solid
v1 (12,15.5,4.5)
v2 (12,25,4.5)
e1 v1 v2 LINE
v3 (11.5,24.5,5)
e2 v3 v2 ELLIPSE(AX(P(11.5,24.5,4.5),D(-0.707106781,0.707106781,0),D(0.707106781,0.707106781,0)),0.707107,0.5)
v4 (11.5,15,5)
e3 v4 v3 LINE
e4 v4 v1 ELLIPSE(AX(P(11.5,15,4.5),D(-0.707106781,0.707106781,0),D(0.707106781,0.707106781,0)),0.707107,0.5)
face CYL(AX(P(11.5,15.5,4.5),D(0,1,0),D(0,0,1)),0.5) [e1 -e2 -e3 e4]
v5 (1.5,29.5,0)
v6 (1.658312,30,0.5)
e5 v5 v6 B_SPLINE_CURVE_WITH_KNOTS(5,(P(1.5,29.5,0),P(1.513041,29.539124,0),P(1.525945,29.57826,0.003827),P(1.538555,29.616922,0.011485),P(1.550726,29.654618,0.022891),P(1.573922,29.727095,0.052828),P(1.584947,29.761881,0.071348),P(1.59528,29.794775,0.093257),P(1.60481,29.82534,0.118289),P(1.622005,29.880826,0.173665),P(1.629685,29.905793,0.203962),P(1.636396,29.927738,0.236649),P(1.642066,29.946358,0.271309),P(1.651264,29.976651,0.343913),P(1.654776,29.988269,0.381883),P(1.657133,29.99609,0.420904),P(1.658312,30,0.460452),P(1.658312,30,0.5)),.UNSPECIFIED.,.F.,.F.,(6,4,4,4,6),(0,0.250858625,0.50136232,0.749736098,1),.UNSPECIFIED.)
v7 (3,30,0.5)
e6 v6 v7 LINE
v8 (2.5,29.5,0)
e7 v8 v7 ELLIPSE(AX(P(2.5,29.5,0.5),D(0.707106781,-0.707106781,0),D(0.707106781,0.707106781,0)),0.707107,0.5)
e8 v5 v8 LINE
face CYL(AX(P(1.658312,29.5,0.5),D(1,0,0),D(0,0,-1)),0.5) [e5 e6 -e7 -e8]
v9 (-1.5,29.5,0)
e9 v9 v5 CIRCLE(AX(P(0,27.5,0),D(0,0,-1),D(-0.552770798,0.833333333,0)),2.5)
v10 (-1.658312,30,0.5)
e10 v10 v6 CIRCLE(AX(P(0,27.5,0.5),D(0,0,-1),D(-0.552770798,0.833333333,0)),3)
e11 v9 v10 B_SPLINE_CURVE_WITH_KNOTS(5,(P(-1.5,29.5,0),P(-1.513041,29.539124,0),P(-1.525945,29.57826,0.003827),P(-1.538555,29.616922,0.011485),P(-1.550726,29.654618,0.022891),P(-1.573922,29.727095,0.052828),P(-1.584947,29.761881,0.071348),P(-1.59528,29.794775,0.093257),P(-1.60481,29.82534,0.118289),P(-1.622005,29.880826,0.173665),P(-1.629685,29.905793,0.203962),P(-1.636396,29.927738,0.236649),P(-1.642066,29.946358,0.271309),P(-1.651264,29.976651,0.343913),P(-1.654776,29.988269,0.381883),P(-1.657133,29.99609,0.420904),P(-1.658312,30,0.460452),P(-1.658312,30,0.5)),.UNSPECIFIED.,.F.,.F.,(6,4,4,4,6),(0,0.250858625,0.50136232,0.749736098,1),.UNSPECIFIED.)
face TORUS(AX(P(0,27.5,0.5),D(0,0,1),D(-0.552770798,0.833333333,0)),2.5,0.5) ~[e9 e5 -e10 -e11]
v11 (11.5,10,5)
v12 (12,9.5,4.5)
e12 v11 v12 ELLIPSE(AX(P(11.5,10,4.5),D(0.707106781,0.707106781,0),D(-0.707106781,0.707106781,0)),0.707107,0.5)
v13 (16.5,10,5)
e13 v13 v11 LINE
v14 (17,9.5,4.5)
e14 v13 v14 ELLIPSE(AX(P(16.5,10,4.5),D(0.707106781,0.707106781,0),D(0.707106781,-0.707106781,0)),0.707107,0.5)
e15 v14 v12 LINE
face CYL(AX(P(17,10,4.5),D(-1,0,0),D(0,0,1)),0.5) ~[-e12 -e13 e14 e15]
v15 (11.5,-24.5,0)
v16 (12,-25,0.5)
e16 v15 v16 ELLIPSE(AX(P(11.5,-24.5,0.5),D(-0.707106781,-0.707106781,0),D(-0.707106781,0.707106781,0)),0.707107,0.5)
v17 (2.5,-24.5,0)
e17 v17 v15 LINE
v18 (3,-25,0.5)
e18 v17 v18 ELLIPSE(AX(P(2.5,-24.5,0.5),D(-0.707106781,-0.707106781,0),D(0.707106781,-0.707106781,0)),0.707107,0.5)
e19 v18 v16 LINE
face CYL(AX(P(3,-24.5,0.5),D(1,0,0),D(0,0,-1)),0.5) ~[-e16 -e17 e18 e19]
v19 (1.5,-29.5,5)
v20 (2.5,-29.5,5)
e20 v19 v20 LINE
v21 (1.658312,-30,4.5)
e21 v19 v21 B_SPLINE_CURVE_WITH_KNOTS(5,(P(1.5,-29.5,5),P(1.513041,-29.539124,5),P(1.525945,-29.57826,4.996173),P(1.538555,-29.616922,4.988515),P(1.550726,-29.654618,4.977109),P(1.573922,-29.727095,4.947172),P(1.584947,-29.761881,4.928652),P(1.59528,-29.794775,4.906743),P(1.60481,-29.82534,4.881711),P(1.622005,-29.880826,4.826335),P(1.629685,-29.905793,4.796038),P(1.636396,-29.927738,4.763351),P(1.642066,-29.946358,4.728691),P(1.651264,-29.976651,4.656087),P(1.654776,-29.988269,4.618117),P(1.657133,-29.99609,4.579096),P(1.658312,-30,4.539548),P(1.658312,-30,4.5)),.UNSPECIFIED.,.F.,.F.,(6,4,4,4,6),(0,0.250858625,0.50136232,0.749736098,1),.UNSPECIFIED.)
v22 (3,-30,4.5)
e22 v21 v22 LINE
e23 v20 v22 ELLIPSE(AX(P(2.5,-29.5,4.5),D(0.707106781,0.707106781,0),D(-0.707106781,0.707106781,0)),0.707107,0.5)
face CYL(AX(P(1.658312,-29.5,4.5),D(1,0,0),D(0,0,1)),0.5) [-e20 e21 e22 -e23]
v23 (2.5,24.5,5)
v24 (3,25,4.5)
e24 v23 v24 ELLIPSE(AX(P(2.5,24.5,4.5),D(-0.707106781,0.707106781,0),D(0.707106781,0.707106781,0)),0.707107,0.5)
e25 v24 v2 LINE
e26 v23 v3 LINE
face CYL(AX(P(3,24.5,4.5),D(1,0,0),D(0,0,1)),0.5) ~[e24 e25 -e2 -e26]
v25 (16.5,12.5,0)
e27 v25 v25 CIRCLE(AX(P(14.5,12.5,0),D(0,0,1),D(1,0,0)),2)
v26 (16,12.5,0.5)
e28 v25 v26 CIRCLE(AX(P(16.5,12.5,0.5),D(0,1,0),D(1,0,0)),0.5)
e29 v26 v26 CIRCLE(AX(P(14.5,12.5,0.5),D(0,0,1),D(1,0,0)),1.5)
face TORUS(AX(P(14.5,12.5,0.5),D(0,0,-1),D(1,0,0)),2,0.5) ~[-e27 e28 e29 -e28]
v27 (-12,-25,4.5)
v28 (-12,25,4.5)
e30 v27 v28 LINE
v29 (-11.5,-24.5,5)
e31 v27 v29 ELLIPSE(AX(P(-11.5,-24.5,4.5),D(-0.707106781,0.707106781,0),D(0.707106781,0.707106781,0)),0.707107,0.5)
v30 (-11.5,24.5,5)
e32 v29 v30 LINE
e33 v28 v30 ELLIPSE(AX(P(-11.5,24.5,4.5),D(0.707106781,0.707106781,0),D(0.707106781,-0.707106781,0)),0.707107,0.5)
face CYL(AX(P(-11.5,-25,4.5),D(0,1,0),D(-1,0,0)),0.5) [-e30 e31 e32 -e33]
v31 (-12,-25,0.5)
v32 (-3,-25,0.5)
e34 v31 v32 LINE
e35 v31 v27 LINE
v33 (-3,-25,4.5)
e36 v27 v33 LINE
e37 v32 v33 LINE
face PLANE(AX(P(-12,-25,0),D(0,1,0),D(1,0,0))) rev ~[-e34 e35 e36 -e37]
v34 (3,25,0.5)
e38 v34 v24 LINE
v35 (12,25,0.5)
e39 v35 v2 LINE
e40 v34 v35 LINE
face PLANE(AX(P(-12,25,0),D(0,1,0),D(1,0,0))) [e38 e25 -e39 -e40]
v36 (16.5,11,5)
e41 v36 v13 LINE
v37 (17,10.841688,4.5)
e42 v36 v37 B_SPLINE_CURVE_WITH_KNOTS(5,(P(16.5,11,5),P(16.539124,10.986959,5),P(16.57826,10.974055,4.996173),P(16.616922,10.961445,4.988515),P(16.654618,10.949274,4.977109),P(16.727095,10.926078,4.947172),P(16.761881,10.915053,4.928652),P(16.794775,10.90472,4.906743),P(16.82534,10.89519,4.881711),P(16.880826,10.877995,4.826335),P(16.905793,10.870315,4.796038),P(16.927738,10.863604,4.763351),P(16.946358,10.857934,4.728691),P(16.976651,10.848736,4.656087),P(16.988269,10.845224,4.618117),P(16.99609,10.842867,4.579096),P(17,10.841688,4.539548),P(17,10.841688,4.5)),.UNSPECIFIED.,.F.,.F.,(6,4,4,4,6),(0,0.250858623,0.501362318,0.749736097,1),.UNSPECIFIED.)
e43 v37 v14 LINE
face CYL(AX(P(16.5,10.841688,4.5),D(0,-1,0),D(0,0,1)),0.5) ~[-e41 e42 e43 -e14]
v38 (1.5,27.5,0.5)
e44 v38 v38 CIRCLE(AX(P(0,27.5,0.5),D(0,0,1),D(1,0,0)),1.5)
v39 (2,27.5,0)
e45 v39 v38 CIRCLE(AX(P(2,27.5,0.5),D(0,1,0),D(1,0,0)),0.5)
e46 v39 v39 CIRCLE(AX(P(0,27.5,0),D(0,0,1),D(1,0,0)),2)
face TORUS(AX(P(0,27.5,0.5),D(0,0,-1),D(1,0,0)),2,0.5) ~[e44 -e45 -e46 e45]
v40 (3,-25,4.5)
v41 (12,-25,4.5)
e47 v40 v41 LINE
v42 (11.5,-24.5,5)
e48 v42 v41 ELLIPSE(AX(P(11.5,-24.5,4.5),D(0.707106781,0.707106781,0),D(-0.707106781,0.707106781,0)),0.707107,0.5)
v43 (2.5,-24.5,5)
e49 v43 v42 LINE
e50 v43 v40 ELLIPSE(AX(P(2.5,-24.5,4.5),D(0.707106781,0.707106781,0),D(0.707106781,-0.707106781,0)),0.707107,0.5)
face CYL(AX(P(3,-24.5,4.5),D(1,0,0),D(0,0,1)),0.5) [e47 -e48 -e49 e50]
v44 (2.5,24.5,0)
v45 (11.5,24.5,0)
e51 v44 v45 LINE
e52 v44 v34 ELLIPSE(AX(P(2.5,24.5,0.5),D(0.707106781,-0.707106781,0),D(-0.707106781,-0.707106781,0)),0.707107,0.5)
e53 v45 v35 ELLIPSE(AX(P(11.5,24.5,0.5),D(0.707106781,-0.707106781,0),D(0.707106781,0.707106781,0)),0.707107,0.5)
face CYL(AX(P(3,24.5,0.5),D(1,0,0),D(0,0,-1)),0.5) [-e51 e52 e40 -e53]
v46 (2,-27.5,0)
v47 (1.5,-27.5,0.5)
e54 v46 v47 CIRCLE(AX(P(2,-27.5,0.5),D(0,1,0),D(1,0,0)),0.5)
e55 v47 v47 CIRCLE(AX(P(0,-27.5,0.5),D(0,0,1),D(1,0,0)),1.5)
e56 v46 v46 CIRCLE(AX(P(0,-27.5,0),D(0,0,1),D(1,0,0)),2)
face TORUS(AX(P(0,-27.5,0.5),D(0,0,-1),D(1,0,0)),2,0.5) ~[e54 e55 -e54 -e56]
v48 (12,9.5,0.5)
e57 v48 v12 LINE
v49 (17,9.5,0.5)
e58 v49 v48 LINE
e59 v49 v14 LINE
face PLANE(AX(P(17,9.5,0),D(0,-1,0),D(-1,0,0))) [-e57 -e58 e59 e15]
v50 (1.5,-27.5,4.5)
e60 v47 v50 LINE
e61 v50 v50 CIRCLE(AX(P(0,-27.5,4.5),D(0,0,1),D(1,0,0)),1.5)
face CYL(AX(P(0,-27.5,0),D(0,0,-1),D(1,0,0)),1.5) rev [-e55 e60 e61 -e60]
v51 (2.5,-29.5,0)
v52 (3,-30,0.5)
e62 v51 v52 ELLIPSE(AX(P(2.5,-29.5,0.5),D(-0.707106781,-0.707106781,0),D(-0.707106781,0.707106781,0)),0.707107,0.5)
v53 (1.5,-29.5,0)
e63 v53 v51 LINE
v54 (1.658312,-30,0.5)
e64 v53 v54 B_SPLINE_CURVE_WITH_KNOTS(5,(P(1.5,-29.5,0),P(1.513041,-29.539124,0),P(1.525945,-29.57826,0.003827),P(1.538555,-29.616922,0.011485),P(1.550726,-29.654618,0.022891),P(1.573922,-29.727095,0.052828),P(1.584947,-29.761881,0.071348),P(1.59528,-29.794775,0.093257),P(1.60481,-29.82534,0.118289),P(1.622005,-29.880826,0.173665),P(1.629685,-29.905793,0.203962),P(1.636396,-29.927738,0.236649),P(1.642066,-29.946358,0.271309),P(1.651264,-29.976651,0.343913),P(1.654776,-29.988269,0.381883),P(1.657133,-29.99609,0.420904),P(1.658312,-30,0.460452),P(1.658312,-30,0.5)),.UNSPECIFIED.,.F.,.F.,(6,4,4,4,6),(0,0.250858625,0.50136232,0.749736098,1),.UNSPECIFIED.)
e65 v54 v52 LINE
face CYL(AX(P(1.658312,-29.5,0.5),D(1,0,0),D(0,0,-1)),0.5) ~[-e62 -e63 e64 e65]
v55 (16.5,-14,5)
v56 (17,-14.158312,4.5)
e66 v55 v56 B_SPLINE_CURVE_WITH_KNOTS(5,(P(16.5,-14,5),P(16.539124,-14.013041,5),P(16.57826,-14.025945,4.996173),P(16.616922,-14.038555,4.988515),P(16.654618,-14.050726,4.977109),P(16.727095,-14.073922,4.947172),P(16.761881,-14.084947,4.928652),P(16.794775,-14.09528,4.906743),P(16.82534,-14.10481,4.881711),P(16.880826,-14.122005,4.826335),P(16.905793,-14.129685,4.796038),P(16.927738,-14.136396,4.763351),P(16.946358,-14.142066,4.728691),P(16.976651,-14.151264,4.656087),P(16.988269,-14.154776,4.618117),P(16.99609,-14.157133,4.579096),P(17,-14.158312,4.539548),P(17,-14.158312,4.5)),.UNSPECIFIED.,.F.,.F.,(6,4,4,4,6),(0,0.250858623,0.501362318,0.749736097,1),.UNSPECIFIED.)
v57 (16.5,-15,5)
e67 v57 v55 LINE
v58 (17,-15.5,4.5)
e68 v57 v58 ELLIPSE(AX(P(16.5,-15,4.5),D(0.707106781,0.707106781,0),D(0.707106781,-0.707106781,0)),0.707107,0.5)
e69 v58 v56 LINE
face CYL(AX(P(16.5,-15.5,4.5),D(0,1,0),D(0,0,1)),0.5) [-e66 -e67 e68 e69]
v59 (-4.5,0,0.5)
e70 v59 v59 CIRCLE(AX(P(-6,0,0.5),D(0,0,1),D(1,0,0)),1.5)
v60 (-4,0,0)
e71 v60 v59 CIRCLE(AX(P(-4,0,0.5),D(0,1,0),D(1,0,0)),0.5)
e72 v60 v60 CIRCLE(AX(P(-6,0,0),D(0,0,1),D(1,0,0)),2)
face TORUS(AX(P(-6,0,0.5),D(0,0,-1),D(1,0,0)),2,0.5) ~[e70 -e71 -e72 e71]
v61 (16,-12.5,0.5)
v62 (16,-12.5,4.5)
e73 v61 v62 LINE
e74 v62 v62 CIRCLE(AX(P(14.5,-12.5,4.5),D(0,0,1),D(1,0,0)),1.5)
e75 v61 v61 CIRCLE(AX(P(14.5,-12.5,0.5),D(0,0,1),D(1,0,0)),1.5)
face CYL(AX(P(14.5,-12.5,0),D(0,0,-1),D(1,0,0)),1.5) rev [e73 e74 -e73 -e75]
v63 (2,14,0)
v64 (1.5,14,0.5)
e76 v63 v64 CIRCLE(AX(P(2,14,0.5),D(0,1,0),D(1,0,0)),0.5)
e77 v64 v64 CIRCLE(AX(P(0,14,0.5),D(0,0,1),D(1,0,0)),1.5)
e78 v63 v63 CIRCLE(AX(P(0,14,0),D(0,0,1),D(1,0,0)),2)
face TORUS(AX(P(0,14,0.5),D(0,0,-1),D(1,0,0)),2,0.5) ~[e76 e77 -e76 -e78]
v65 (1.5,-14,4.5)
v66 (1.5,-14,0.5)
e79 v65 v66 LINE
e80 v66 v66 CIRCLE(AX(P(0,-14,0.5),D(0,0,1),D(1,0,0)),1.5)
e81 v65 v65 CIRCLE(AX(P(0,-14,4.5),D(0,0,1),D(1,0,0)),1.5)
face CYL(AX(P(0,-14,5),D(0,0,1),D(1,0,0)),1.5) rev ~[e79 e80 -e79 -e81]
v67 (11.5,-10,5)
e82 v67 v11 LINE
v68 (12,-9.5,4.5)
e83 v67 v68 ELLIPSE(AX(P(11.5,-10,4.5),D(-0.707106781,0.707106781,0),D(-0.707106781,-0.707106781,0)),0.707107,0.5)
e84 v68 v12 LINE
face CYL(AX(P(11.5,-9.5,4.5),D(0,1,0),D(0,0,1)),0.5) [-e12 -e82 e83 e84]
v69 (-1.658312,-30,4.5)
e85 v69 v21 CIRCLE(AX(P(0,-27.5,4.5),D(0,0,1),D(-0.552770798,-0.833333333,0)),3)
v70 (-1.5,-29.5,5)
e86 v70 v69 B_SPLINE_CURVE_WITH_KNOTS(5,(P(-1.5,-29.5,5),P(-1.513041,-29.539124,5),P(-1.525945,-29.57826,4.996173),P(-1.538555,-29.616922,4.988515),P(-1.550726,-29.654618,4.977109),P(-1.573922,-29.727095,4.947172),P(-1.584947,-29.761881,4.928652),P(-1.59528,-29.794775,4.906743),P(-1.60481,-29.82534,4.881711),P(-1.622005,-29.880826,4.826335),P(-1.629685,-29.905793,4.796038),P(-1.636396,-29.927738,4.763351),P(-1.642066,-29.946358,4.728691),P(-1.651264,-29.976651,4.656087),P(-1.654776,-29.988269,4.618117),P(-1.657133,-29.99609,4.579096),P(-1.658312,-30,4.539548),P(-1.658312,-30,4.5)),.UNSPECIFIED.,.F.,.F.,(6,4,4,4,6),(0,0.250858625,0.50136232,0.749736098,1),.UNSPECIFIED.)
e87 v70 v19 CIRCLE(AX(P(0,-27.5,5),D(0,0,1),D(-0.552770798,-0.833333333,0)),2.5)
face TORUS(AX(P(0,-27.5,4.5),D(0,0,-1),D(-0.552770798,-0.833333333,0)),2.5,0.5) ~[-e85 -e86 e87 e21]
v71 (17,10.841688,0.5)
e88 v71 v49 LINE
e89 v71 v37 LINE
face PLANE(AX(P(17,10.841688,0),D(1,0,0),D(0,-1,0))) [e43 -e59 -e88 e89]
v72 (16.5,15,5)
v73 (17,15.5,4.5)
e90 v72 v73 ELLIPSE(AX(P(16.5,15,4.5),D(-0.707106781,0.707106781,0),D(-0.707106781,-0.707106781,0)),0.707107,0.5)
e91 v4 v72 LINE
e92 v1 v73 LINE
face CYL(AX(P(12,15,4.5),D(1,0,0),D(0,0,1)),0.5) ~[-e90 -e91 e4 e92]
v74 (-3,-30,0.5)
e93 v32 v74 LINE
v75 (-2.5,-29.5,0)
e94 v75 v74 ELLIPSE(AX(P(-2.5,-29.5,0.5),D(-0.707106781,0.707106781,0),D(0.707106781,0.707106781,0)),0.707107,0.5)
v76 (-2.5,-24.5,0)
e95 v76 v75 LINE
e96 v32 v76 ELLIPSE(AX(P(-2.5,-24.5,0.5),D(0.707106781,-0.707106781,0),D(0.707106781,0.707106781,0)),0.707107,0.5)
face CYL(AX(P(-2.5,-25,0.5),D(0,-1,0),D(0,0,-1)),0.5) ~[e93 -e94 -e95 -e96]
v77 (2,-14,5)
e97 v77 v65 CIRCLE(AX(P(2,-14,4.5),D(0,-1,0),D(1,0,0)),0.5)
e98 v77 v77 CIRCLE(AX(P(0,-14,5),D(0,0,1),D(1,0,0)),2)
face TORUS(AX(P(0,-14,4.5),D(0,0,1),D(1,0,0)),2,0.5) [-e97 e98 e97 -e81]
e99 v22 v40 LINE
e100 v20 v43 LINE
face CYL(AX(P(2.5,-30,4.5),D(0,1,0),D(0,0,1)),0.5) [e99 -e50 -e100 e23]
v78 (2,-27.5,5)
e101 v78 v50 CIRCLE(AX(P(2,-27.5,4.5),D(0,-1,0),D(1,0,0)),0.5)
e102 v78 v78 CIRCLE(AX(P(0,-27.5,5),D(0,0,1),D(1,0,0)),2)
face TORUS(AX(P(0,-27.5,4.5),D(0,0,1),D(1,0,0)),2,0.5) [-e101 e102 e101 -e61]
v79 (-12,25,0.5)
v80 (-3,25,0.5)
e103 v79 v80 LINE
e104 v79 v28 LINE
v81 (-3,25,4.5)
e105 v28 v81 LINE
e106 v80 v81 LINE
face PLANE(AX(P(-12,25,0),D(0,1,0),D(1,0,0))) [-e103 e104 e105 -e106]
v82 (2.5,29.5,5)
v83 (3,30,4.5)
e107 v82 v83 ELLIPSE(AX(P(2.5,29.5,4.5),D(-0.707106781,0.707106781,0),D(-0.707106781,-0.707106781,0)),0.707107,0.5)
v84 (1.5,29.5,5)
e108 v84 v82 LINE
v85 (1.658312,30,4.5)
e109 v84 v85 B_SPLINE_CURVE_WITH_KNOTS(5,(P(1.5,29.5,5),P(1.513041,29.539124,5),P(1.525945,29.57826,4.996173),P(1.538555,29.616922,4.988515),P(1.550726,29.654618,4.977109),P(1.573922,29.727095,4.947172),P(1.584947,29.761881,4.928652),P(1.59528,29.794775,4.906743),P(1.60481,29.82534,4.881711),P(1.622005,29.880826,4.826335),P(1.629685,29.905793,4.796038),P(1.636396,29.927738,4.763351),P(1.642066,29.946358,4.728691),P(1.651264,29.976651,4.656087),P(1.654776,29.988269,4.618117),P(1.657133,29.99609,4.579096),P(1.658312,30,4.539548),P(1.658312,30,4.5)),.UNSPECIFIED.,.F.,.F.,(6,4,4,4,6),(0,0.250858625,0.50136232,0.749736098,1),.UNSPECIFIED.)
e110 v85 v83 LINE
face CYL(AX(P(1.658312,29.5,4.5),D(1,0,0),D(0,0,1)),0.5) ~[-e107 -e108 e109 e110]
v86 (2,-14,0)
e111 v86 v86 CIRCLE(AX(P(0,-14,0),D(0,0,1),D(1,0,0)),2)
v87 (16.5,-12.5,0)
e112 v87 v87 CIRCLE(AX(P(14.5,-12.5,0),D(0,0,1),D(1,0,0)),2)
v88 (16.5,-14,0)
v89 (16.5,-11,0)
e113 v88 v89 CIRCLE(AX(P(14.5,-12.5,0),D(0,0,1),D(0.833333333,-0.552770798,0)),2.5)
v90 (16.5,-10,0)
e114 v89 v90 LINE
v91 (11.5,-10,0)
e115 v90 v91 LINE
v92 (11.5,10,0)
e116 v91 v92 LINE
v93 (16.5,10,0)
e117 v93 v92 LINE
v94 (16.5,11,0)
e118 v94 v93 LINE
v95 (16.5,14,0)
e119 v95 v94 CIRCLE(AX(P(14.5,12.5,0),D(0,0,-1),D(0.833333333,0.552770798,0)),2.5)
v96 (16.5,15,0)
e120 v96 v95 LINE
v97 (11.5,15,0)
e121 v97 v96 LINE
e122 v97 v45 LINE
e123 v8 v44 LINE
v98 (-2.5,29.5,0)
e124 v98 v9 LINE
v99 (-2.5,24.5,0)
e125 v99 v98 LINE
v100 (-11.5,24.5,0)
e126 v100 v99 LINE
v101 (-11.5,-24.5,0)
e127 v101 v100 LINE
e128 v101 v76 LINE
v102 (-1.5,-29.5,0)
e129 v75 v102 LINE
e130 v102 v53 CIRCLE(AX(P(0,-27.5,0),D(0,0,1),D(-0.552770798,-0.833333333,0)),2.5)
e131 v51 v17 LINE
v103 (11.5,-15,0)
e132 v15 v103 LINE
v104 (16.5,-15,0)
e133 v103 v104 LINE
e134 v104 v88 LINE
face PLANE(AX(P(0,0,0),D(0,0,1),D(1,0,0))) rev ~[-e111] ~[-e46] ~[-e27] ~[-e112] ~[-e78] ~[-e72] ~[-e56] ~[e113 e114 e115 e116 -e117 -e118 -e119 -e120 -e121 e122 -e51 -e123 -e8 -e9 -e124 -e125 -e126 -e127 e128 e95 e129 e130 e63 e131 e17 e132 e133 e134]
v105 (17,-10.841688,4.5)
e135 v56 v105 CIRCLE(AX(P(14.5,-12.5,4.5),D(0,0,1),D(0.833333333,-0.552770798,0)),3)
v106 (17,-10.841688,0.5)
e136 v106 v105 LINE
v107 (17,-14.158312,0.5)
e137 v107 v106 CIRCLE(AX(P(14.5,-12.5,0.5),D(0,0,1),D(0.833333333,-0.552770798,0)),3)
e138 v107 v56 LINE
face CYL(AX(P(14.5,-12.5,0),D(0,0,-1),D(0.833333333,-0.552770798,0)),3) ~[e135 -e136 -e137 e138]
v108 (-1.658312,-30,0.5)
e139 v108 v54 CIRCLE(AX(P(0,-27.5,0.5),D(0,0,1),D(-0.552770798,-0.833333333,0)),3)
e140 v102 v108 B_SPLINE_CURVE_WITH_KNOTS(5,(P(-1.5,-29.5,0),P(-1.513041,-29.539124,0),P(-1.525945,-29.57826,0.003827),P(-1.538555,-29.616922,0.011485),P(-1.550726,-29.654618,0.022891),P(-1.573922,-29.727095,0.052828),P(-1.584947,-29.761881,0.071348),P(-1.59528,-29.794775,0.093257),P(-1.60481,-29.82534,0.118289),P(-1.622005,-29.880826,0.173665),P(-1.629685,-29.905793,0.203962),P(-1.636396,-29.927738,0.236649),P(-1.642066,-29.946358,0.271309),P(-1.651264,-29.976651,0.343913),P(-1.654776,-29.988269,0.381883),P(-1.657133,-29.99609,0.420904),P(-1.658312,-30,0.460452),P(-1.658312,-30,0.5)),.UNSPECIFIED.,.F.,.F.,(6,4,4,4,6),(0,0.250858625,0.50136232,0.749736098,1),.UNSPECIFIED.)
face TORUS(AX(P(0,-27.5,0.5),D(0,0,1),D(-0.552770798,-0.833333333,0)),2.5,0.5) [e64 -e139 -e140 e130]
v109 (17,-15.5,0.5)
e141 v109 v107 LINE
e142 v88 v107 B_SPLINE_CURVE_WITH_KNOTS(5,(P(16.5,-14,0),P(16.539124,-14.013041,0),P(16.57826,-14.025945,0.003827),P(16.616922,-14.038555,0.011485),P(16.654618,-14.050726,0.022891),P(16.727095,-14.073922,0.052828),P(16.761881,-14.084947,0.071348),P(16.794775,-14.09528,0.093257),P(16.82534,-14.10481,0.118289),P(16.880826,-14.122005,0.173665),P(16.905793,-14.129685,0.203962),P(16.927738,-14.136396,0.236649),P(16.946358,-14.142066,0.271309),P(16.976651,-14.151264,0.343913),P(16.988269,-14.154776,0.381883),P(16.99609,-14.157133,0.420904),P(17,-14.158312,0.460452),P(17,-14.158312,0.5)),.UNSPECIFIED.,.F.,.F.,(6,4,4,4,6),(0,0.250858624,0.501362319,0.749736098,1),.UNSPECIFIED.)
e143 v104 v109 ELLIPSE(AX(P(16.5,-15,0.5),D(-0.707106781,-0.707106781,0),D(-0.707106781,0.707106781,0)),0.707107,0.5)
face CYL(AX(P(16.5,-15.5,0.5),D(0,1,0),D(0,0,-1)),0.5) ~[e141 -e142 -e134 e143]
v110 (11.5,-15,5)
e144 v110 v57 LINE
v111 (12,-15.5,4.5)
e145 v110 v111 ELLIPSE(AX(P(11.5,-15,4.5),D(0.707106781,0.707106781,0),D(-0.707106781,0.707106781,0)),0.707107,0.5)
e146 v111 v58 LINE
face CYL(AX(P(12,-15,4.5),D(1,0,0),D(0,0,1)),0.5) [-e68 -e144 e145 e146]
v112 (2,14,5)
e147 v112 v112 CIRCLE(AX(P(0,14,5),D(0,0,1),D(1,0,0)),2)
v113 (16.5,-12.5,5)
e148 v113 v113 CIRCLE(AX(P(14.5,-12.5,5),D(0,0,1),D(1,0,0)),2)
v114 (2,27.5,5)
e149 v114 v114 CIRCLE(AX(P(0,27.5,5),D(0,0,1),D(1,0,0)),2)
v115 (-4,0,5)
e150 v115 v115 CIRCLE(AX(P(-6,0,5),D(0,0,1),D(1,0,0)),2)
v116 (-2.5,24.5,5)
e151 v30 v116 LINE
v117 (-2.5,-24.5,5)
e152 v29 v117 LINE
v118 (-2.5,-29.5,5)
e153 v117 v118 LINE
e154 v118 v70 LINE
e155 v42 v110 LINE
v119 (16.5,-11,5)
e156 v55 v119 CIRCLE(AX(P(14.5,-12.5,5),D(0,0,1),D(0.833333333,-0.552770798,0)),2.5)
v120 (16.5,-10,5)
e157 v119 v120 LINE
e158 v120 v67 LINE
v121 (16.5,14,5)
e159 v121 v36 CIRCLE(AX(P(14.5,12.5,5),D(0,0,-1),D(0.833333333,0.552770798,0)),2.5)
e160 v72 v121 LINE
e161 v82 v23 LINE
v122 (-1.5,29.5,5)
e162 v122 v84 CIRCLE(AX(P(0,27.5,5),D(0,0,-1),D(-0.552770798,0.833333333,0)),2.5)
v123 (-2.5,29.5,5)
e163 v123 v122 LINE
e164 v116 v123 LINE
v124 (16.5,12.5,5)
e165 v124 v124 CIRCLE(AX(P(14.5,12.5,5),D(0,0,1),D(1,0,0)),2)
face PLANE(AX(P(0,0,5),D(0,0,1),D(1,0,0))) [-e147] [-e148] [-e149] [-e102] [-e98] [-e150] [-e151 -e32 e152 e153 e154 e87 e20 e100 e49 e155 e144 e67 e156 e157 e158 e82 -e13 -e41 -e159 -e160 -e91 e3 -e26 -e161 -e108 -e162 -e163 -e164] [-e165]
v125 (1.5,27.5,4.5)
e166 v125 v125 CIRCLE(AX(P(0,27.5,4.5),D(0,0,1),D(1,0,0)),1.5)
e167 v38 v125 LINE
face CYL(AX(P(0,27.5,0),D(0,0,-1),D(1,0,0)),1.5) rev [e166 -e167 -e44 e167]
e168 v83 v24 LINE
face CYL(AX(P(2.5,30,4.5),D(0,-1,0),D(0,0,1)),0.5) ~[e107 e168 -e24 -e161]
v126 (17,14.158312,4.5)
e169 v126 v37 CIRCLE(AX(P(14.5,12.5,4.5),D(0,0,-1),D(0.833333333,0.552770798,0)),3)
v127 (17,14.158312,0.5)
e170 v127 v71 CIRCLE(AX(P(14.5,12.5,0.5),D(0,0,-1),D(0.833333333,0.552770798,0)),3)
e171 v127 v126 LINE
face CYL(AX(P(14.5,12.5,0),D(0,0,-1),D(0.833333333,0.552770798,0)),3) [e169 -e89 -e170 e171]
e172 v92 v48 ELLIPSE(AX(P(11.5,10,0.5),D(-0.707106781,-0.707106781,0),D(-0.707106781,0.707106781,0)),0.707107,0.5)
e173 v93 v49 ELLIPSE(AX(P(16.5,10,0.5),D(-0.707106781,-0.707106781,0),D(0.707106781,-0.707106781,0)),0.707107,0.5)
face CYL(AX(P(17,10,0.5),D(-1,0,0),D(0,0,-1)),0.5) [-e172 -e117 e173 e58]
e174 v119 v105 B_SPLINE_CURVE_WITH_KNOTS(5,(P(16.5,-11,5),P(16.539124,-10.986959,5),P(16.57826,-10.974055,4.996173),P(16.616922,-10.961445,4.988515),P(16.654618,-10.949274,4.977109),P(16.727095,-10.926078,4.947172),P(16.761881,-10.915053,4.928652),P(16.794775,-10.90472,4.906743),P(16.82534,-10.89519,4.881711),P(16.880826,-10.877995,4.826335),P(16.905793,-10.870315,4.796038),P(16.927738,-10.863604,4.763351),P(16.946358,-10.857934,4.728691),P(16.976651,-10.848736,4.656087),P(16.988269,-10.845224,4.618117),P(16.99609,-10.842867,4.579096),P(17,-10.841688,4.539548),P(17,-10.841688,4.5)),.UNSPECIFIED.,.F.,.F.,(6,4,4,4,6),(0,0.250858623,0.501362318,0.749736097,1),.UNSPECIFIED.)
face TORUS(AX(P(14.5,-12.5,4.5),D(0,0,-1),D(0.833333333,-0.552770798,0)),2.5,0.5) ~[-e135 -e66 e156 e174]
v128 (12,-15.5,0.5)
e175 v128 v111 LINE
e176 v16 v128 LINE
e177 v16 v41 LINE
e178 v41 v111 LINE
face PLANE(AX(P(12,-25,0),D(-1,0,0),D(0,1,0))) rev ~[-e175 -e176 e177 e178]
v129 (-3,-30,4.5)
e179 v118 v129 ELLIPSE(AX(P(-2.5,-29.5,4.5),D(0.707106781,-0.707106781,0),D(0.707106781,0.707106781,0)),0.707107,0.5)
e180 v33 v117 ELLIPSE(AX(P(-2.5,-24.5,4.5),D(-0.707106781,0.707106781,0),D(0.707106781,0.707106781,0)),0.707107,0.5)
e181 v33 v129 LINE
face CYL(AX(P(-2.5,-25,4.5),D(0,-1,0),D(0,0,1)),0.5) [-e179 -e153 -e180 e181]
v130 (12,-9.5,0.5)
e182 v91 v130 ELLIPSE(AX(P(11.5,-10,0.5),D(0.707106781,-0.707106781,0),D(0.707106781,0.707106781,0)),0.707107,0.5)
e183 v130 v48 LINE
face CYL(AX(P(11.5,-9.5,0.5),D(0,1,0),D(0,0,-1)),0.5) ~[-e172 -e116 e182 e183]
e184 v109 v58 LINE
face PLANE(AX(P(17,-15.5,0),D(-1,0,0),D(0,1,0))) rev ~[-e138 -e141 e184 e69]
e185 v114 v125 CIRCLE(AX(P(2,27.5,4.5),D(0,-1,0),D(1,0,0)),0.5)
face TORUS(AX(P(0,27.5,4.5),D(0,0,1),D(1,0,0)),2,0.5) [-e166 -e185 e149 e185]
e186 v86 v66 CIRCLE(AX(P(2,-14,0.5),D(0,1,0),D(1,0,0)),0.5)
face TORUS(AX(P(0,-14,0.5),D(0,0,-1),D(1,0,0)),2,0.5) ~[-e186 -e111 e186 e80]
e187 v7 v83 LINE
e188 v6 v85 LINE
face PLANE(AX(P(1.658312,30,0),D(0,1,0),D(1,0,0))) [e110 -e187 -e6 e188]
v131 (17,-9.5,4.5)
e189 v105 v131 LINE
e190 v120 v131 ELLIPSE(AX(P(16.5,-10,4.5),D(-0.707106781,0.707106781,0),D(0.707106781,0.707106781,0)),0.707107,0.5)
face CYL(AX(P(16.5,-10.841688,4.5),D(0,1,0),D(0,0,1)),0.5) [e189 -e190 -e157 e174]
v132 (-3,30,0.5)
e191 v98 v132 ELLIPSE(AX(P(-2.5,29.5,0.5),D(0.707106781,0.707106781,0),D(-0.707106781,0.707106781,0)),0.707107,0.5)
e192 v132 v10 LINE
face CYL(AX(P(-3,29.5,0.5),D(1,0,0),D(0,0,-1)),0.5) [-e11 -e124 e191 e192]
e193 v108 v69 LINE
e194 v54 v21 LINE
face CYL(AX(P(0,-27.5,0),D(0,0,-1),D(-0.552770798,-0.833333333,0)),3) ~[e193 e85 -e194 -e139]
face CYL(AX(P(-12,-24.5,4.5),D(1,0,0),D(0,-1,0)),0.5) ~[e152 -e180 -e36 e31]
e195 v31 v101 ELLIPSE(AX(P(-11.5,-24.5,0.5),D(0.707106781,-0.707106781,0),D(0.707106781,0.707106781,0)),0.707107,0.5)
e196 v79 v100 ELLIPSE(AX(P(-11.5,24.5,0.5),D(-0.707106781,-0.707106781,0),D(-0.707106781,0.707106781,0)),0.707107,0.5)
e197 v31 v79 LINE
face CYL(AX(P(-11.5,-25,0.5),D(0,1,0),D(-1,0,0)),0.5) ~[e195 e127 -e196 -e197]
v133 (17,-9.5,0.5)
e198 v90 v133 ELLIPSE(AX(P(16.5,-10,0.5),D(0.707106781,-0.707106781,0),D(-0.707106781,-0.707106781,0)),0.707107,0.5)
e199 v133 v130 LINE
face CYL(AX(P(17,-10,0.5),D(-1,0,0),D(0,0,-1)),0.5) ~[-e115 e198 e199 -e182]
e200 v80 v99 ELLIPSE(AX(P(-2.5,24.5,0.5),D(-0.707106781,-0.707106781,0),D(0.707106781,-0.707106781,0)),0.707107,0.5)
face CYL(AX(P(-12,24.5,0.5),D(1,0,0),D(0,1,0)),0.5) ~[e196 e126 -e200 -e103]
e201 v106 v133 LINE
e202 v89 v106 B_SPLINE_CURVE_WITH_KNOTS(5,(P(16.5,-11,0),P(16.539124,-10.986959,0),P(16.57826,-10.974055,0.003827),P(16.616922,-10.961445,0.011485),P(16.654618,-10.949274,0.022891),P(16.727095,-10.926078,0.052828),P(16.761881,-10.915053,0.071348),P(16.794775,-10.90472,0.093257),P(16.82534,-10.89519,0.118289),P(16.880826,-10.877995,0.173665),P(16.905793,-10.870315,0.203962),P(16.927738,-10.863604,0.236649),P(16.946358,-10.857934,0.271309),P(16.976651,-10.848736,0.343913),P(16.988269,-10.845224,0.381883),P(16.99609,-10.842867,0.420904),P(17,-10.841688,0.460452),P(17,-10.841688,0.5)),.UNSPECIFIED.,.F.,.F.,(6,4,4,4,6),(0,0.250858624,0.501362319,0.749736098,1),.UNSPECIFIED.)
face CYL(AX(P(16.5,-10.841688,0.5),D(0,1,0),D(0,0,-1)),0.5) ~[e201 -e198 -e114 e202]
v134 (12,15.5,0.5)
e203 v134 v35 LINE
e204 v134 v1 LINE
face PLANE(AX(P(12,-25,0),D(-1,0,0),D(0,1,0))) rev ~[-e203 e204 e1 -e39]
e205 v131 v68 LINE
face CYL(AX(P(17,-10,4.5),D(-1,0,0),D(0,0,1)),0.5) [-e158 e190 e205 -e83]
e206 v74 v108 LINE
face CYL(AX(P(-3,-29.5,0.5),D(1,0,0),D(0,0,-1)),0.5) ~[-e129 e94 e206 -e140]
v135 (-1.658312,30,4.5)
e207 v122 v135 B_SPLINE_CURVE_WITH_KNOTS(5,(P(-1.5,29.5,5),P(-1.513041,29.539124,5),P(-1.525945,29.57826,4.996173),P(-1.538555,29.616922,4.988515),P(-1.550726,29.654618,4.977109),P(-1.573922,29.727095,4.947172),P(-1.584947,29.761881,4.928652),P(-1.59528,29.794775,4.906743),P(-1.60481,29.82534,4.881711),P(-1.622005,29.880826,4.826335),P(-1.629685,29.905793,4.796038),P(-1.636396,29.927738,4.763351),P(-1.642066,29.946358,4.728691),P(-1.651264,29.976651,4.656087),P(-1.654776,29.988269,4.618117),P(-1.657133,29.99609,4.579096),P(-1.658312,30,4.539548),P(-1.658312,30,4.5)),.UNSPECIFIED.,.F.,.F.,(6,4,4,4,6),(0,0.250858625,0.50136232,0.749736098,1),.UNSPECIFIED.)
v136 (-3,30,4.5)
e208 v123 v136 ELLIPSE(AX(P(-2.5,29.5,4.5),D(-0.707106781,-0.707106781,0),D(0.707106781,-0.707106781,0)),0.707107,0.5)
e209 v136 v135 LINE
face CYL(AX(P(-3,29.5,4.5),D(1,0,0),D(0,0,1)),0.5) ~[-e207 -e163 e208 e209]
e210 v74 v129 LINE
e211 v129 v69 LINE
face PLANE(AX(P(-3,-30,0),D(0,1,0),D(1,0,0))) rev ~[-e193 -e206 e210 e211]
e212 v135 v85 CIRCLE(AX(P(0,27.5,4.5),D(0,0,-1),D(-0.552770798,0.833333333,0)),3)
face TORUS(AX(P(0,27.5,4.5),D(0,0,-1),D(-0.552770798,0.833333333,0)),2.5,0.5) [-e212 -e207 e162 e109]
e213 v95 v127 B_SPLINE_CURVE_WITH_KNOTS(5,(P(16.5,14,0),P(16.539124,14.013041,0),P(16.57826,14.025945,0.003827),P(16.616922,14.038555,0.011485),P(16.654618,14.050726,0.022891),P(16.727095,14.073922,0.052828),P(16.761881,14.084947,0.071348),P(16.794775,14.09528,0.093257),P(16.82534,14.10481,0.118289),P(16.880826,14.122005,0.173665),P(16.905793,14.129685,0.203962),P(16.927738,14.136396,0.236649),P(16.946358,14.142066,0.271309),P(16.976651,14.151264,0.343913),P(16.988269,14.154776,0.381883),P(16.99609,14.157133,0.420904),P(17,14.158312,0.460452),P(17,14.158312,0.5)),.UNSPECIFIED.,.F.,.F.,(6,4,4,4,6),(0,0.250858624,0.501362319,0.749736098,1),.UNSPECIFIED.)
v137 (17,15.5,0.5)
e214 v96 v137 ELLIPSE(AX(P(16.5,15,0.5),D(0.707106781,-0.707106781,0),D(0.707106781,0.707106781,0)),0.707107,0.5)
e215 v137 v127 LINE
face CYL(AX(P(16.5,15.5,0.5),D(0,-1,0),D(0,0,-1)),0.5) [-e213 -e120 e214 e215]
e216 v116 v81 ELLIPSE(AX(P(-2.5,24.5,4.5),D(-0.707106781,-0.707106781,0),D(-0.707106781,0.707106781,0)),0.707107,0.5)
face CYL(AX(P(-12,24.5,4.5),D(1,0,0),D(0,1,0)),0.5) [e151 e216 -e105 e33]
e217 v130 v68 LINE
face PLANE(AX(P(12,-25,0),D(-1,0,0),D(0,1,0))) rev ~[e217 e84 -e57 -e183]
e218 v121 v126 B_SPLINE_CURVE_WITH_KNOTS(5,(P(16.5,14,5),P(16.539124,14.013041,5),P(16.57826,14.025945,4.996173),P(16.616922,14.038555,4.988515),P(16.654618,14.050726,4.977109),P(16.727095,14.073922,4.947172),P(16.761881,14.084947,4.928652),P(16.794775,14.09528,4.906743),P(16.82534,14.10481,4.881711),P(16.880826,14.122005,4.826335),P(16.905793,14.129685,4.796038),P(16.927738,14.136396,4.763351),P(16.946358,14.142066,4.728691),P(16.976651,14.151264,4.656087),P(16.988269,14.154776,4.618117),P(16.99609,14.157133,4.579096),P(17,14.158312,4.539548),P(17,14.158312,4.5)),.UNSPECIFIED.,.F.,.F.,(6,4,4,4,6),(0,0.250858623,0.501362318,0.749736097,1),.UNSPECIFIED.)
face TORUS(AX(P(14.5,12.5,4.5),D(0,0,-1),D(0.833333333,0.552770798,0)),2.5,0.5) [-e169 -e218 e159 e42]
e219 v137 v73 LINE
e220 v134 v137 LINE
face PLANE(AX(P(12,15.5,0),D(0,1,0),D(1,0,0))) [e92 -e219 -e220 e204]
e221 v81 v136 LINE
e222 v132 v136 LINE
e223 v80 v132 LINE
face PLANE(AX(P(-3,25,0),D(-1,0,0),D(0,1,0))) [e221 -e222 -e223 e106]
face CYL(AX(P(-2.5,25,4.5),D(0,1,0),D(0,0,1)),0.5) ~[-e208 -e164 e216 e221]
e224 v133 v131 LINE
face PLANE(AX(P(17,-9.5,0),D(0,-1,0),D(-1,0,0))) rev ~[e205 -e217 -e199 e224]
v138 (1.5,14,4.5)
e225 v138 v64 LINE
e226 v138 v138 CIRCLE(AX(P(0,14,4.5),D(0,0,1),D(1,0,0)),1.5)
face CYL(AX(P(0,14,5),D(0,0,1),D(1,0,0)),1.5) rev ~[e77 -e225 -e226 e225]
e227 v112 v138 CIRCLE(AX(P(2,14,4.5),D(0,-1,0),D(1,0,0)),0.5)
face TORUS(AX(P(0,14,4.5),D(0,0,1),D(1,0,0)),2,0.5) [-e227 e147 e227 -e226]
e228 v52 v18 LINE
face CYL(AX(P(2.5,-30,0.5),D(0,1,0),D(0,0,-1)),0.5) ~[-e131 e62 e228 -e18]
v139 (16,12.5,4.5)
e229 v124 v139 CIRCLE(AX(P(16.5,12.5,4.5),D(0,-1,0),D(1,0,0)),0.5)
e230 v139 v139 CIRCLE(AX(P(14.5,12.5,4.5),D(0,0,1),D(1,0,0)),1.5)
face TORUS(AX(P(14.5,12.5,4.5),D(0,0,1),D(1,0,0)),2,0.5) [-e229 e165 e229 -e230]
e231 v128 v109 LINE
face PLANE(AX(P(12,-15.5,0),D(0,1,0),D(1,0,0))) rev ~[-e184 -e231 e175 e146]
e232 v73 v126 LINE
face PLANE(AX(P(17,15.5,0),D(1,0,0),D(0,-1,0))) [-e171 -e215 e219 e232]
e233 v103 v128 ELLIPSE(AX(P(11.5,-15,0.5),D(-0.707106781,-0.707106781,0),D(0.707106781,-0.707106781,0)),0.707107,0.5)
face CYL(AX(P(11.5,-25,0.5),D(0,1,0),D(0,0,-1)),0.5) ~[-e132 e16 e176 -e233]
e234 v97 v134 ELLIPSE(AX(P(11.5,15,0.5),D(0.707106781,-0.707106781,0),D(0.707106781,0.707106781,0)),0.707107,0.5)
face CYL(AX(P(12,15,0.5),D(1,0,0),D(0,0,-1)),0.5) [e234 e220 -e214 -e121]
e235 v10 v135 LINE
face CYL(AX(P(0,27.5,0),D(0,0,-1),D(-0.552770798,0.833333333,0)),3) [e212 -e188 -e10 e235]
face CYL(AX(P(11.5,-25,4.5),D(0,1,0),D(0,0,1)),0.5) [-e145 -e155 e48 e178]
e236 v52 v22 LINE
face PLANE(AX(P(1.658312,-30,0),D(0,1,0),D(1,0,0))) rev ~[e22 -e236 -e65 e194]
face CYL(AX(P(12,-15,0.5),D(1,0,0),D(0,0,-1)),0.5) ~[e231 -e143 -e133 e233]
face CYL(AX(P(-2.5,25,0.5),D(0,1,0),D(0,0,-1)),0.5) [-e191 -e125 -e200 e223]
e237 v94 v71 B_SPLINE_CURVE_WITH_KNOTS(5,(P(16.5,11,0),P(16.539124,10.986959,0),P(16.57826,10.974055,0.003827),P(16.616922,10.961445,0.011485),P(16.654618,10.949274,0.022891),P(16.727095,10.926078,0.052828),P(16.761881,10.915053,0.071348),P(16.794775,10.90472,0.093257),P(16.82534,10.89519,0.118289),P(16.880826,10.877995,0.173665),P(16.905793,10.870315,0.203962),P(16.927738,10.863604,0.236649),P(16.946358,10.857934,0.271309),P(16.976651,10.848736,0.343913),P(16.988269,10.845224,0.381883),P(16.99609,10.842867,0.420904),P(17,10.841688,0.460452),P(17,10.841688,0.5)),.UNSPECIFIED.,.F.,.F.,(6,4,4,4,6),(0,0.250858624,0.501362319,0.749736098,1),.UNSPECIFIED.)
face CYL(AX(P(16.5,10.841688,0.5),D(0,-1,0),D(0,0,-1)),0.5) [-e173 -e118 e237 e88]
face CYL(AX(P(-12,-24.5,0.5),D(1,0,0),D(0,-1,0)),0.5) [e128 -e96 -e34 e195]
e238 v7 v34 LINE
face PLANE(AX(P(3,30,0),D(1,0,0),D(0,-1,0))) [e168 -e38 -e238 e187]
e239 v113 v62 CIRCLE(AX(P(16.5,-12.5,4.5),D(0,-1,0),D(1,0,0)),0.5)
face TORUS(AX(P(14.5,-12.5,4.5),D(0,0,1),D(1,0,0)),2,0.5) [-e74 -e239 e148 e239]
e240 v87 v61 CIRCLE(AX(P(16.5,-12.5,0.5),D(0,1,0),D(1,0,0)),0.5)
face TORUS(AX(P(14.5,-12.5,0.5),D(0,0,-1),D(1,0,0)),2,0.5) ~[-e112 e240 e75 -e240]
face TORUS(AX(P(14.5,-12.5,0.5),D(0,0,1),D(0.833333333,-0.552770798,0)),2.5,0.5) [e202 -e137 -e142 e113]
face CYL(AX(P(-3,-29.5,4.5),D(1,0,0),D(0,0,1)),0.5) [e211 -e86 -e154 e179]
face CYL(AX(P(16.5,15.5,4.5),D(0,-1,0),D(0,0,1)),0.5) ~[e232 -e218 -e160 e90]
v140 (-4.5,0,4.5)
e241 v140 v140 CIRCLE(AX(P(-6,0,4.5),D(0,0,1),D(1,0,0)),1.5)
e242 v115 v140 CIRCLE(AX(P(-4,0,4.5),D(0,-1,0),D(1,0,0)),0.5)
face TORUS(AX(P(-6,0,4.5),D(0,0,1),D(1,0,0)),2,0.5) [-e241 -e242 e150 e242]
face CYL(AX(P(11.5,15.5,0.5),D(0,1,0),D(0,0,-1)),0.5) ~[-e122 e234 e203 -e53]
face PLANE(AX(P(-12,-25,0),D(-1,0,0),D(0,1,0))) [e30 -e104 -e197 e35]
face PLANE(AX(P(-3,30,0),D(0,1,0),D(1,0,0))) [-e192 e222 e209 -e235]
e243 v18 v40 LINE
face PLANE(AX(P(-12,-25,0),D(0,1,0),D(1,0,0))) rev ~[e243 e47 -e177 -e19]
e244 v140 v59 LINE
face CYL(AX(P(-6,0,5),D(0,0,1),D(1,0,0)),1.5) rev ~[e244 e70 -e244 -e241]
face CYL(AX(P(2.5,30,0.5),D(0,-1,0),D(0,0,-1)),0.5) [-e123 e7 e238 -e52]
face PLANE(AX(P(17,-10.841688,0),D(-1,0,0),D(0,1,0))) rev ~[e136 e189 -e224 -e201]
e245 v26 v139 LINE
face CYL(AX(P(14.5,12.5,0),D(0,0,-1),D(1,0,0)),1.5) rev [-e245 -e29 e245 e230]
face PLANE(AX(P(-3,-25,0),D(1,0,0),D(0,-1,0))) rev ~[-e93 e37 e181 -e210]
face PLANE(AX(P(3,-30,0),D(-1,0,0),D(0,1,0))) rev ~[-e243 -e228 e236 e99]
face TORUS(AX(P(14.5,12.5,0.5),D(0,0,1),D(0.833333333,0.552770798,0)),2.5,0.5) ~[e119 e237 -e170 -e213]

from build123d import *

# Parameters (mm, degrees)
ESQUISSE1_W             = 24
ESQUISSE1_H             = 50
ESQUISSE1_R             = 1.5
BOSS_EXTRU_1_DEPTH      = 5
ESQUISSE2_R             = 1.5
ENL_V_MAT_EXTRU_1_DEPTH = 5
CONG_1_R                = 0.5


with BuildPart() as part:
    # Esquisse1 → Boss.-Extru.1 (new body)
    # profile 1 of 5: a face of its own
    with BuildSketch(Plane.XY):
        Rectangle(ESQUISSE1_W, ESQUISSE1_H)
    # profile 2 of 5: a face of its own
    with BuildSketch(Plane.XY):
        with BuildLine():
            Line((17, 10.841687605), (17, 9.5))
            Line((17, 9.5), (12, 9.5))
            Line((12, 9.5), (12, 15.5))
            Line((12, 15.5), (17, 15.5))
            Line((17, 15.5), (17, 14.158312395))
            ThreePointArc((17, 14.158312395), (17.5, 12.5), (17, 10.841687605))
        make_face()
        with Locations((14.5, 12.5)):
            Circle(ESQUISSE1_R, mode=Mode.SUBTRACT)
    # profile 3 of 5: a face of its own
    with BuildSketch(Plane.XY):
        with BuildLine():
            Line((17, -15.5), (17, -14.158312395))
            ThreePointArc((17, -14.158312395), (17.5, -12.5), (17, -10.841687605))
            Line((17, -10.841687605), (17, -9.5))
            Line((17, -9.5), (12, -9.5))
            Line((12, -9.5), (12, -15.5))
            Line((12, -15.5), (17, -15.5))
        make_face()
        with Locations((14.5, -12.5)):
            Circle(ESQUISSE1_R, mode=Mode.SUBTRACT)
    # profile 4 of 5: a face of its own
    with BuildSketch(Plane.XY):
        with BuildLine():
            Line((1.658312395, 30), (3, 30))
            Line((3, 30), (3, 25))
            Line((3, 25), (-3, 25))
            Line((-3, 25), (-3, 30))
            Line((-3, 30), (-1.658312395, 30))
            ThreePointArc((-1.658312395, 30), (0, 30.5), (1.658312395, 30))
        make_face()
        with Locations((0, 27.5)):
            Circle(ESQUISSE1_R, mode=Mode.SUBTRACT)
    # profile 5 of 5: a face of its own
    with BuildSketch(Plane.XY):
        with BuildLine():
            Line((-3, -30), (-1.658312395, -30))
            ThreePointArc((-1.658312395, -30), (0, -30.5), (1.658312395, -30))
            Line((1.658312395, -30), (3, -30))
            Line((3, -30), (3, -25))
            Line((3, -25), (-3, -25))
            Line((-3, -25), (-3, -30))
        make_face()
        with Locations((0, -27.5)):
            Circle(ESQUISSE1_R, mode=Mode.SUBTRACT)
    extrude(amount=BOSS_EXTRU_1_DEPTH)

    # Esquisse2 → Enlèv. mat.-Extru.1 (cut)
    with BuildSketch(Plane.XY.offset(5)):
        with Locations((0, 14)):
            Circle(ESQUISSE2_R)
        with Locations((-6, 0)):
            Circle(ESQUISSE2_R)
        with Locations((0, -14)):
            Circle(ESQUISSE2_R)
    extrude(amount=-ENL_V_MAT_EXTRU_1_DEPTH, mode=Mode.SUBTRACT)

    # Congé1
    cong_1_edges = [part.edges().sort_by_distance(p)[0] for p in [
        (17, 10.170843802, 5),
        (17.5, 12.5, 5),
        (17, 14.829156198, 5),
        (14.5, 15.5, 5),
        (-1.5, 27.5, 5),
        (13, -12.5, 5),
        (13, 12.5, 5),
        (-1.5, 14, 0),
        (-1.5, 14, 5),
        (-7.5, 0, 0),
        (-7.5, 0, 5),
        (-1.5, -14, 0),
        (-1.5, -14, 5),
        (7.5, 25, 5),
        (3, 27.5, 5),
        (2.329156198, 30, 5),
        (13, 12.5, 0),
        (13, -12.5, 0),
        (-1.5, 27.5, 0),
        (14.5, 15.5, 0),
        (17, 14.829156198, 0),
        (17.5, 12.5, 0),
        (17, 10.170843802, 0),
        (0, 30.5, 5),
        (14.5, 9.5, 0),
        (12, 0, 0),
        (14.5, -9.5, 0),
        (17, -10.170843802, 0),
        (17.5, -12.5, 0),
        (17, -14.829156198, 0),
        (14.5, -15.5, 0),
        (12, -20.25, 0),
        (-7.5, -25, 0),
        (-2.329156198, 30, 5),
        (-12, 0, 0),
        (-7.5, 25, 0),
        (-3, 27.5, 0),
        (-2.329156198, 30, 0),
        (0, 30.5, 0),
        (2.329156198, 30, 0),
        (3, 27.5, 0),
        (7.5, 25, 0),
        (12, 20.25, 0),
        (-3, 27.5, 5),
        (-7.5, 25, 5),
        (-12, 0, 5),
        (-7.5, -25, 5),
        (12, -20.25, 5),
        (14.5, -15.5, 5),
        (17, -14.829156198, 5),
        (7.5, -25, 0),
        (7.5, -25, 5),
        (17.5, -12.5, 5),
        (12, 20.25, 5),
        (17, -10.170843802, 5),
        (0, -30.5, 5),
        (-2.329156198, -30, 5),
        (-3, -27.5, 5),
        (3, -27.5, 5),
        (2.329156198, -30, 5),
        (0, -30.5, 0),
        (-2.329156198, -30, 0),
        (-3, -27.5, 0),
        (14.5, -9.5, 5),
        (3, -27.5, 0),
        (2.329156198, -30, 0),
        (-1.5, -27.5, 5),
        (-1.5, -27.5, 0),
        (12, 0, 5),
        (14.5, 9.5, 5),
    ]]
    fillet(cong_1_edges, radius=CONG_1_R)


solid = part.part
